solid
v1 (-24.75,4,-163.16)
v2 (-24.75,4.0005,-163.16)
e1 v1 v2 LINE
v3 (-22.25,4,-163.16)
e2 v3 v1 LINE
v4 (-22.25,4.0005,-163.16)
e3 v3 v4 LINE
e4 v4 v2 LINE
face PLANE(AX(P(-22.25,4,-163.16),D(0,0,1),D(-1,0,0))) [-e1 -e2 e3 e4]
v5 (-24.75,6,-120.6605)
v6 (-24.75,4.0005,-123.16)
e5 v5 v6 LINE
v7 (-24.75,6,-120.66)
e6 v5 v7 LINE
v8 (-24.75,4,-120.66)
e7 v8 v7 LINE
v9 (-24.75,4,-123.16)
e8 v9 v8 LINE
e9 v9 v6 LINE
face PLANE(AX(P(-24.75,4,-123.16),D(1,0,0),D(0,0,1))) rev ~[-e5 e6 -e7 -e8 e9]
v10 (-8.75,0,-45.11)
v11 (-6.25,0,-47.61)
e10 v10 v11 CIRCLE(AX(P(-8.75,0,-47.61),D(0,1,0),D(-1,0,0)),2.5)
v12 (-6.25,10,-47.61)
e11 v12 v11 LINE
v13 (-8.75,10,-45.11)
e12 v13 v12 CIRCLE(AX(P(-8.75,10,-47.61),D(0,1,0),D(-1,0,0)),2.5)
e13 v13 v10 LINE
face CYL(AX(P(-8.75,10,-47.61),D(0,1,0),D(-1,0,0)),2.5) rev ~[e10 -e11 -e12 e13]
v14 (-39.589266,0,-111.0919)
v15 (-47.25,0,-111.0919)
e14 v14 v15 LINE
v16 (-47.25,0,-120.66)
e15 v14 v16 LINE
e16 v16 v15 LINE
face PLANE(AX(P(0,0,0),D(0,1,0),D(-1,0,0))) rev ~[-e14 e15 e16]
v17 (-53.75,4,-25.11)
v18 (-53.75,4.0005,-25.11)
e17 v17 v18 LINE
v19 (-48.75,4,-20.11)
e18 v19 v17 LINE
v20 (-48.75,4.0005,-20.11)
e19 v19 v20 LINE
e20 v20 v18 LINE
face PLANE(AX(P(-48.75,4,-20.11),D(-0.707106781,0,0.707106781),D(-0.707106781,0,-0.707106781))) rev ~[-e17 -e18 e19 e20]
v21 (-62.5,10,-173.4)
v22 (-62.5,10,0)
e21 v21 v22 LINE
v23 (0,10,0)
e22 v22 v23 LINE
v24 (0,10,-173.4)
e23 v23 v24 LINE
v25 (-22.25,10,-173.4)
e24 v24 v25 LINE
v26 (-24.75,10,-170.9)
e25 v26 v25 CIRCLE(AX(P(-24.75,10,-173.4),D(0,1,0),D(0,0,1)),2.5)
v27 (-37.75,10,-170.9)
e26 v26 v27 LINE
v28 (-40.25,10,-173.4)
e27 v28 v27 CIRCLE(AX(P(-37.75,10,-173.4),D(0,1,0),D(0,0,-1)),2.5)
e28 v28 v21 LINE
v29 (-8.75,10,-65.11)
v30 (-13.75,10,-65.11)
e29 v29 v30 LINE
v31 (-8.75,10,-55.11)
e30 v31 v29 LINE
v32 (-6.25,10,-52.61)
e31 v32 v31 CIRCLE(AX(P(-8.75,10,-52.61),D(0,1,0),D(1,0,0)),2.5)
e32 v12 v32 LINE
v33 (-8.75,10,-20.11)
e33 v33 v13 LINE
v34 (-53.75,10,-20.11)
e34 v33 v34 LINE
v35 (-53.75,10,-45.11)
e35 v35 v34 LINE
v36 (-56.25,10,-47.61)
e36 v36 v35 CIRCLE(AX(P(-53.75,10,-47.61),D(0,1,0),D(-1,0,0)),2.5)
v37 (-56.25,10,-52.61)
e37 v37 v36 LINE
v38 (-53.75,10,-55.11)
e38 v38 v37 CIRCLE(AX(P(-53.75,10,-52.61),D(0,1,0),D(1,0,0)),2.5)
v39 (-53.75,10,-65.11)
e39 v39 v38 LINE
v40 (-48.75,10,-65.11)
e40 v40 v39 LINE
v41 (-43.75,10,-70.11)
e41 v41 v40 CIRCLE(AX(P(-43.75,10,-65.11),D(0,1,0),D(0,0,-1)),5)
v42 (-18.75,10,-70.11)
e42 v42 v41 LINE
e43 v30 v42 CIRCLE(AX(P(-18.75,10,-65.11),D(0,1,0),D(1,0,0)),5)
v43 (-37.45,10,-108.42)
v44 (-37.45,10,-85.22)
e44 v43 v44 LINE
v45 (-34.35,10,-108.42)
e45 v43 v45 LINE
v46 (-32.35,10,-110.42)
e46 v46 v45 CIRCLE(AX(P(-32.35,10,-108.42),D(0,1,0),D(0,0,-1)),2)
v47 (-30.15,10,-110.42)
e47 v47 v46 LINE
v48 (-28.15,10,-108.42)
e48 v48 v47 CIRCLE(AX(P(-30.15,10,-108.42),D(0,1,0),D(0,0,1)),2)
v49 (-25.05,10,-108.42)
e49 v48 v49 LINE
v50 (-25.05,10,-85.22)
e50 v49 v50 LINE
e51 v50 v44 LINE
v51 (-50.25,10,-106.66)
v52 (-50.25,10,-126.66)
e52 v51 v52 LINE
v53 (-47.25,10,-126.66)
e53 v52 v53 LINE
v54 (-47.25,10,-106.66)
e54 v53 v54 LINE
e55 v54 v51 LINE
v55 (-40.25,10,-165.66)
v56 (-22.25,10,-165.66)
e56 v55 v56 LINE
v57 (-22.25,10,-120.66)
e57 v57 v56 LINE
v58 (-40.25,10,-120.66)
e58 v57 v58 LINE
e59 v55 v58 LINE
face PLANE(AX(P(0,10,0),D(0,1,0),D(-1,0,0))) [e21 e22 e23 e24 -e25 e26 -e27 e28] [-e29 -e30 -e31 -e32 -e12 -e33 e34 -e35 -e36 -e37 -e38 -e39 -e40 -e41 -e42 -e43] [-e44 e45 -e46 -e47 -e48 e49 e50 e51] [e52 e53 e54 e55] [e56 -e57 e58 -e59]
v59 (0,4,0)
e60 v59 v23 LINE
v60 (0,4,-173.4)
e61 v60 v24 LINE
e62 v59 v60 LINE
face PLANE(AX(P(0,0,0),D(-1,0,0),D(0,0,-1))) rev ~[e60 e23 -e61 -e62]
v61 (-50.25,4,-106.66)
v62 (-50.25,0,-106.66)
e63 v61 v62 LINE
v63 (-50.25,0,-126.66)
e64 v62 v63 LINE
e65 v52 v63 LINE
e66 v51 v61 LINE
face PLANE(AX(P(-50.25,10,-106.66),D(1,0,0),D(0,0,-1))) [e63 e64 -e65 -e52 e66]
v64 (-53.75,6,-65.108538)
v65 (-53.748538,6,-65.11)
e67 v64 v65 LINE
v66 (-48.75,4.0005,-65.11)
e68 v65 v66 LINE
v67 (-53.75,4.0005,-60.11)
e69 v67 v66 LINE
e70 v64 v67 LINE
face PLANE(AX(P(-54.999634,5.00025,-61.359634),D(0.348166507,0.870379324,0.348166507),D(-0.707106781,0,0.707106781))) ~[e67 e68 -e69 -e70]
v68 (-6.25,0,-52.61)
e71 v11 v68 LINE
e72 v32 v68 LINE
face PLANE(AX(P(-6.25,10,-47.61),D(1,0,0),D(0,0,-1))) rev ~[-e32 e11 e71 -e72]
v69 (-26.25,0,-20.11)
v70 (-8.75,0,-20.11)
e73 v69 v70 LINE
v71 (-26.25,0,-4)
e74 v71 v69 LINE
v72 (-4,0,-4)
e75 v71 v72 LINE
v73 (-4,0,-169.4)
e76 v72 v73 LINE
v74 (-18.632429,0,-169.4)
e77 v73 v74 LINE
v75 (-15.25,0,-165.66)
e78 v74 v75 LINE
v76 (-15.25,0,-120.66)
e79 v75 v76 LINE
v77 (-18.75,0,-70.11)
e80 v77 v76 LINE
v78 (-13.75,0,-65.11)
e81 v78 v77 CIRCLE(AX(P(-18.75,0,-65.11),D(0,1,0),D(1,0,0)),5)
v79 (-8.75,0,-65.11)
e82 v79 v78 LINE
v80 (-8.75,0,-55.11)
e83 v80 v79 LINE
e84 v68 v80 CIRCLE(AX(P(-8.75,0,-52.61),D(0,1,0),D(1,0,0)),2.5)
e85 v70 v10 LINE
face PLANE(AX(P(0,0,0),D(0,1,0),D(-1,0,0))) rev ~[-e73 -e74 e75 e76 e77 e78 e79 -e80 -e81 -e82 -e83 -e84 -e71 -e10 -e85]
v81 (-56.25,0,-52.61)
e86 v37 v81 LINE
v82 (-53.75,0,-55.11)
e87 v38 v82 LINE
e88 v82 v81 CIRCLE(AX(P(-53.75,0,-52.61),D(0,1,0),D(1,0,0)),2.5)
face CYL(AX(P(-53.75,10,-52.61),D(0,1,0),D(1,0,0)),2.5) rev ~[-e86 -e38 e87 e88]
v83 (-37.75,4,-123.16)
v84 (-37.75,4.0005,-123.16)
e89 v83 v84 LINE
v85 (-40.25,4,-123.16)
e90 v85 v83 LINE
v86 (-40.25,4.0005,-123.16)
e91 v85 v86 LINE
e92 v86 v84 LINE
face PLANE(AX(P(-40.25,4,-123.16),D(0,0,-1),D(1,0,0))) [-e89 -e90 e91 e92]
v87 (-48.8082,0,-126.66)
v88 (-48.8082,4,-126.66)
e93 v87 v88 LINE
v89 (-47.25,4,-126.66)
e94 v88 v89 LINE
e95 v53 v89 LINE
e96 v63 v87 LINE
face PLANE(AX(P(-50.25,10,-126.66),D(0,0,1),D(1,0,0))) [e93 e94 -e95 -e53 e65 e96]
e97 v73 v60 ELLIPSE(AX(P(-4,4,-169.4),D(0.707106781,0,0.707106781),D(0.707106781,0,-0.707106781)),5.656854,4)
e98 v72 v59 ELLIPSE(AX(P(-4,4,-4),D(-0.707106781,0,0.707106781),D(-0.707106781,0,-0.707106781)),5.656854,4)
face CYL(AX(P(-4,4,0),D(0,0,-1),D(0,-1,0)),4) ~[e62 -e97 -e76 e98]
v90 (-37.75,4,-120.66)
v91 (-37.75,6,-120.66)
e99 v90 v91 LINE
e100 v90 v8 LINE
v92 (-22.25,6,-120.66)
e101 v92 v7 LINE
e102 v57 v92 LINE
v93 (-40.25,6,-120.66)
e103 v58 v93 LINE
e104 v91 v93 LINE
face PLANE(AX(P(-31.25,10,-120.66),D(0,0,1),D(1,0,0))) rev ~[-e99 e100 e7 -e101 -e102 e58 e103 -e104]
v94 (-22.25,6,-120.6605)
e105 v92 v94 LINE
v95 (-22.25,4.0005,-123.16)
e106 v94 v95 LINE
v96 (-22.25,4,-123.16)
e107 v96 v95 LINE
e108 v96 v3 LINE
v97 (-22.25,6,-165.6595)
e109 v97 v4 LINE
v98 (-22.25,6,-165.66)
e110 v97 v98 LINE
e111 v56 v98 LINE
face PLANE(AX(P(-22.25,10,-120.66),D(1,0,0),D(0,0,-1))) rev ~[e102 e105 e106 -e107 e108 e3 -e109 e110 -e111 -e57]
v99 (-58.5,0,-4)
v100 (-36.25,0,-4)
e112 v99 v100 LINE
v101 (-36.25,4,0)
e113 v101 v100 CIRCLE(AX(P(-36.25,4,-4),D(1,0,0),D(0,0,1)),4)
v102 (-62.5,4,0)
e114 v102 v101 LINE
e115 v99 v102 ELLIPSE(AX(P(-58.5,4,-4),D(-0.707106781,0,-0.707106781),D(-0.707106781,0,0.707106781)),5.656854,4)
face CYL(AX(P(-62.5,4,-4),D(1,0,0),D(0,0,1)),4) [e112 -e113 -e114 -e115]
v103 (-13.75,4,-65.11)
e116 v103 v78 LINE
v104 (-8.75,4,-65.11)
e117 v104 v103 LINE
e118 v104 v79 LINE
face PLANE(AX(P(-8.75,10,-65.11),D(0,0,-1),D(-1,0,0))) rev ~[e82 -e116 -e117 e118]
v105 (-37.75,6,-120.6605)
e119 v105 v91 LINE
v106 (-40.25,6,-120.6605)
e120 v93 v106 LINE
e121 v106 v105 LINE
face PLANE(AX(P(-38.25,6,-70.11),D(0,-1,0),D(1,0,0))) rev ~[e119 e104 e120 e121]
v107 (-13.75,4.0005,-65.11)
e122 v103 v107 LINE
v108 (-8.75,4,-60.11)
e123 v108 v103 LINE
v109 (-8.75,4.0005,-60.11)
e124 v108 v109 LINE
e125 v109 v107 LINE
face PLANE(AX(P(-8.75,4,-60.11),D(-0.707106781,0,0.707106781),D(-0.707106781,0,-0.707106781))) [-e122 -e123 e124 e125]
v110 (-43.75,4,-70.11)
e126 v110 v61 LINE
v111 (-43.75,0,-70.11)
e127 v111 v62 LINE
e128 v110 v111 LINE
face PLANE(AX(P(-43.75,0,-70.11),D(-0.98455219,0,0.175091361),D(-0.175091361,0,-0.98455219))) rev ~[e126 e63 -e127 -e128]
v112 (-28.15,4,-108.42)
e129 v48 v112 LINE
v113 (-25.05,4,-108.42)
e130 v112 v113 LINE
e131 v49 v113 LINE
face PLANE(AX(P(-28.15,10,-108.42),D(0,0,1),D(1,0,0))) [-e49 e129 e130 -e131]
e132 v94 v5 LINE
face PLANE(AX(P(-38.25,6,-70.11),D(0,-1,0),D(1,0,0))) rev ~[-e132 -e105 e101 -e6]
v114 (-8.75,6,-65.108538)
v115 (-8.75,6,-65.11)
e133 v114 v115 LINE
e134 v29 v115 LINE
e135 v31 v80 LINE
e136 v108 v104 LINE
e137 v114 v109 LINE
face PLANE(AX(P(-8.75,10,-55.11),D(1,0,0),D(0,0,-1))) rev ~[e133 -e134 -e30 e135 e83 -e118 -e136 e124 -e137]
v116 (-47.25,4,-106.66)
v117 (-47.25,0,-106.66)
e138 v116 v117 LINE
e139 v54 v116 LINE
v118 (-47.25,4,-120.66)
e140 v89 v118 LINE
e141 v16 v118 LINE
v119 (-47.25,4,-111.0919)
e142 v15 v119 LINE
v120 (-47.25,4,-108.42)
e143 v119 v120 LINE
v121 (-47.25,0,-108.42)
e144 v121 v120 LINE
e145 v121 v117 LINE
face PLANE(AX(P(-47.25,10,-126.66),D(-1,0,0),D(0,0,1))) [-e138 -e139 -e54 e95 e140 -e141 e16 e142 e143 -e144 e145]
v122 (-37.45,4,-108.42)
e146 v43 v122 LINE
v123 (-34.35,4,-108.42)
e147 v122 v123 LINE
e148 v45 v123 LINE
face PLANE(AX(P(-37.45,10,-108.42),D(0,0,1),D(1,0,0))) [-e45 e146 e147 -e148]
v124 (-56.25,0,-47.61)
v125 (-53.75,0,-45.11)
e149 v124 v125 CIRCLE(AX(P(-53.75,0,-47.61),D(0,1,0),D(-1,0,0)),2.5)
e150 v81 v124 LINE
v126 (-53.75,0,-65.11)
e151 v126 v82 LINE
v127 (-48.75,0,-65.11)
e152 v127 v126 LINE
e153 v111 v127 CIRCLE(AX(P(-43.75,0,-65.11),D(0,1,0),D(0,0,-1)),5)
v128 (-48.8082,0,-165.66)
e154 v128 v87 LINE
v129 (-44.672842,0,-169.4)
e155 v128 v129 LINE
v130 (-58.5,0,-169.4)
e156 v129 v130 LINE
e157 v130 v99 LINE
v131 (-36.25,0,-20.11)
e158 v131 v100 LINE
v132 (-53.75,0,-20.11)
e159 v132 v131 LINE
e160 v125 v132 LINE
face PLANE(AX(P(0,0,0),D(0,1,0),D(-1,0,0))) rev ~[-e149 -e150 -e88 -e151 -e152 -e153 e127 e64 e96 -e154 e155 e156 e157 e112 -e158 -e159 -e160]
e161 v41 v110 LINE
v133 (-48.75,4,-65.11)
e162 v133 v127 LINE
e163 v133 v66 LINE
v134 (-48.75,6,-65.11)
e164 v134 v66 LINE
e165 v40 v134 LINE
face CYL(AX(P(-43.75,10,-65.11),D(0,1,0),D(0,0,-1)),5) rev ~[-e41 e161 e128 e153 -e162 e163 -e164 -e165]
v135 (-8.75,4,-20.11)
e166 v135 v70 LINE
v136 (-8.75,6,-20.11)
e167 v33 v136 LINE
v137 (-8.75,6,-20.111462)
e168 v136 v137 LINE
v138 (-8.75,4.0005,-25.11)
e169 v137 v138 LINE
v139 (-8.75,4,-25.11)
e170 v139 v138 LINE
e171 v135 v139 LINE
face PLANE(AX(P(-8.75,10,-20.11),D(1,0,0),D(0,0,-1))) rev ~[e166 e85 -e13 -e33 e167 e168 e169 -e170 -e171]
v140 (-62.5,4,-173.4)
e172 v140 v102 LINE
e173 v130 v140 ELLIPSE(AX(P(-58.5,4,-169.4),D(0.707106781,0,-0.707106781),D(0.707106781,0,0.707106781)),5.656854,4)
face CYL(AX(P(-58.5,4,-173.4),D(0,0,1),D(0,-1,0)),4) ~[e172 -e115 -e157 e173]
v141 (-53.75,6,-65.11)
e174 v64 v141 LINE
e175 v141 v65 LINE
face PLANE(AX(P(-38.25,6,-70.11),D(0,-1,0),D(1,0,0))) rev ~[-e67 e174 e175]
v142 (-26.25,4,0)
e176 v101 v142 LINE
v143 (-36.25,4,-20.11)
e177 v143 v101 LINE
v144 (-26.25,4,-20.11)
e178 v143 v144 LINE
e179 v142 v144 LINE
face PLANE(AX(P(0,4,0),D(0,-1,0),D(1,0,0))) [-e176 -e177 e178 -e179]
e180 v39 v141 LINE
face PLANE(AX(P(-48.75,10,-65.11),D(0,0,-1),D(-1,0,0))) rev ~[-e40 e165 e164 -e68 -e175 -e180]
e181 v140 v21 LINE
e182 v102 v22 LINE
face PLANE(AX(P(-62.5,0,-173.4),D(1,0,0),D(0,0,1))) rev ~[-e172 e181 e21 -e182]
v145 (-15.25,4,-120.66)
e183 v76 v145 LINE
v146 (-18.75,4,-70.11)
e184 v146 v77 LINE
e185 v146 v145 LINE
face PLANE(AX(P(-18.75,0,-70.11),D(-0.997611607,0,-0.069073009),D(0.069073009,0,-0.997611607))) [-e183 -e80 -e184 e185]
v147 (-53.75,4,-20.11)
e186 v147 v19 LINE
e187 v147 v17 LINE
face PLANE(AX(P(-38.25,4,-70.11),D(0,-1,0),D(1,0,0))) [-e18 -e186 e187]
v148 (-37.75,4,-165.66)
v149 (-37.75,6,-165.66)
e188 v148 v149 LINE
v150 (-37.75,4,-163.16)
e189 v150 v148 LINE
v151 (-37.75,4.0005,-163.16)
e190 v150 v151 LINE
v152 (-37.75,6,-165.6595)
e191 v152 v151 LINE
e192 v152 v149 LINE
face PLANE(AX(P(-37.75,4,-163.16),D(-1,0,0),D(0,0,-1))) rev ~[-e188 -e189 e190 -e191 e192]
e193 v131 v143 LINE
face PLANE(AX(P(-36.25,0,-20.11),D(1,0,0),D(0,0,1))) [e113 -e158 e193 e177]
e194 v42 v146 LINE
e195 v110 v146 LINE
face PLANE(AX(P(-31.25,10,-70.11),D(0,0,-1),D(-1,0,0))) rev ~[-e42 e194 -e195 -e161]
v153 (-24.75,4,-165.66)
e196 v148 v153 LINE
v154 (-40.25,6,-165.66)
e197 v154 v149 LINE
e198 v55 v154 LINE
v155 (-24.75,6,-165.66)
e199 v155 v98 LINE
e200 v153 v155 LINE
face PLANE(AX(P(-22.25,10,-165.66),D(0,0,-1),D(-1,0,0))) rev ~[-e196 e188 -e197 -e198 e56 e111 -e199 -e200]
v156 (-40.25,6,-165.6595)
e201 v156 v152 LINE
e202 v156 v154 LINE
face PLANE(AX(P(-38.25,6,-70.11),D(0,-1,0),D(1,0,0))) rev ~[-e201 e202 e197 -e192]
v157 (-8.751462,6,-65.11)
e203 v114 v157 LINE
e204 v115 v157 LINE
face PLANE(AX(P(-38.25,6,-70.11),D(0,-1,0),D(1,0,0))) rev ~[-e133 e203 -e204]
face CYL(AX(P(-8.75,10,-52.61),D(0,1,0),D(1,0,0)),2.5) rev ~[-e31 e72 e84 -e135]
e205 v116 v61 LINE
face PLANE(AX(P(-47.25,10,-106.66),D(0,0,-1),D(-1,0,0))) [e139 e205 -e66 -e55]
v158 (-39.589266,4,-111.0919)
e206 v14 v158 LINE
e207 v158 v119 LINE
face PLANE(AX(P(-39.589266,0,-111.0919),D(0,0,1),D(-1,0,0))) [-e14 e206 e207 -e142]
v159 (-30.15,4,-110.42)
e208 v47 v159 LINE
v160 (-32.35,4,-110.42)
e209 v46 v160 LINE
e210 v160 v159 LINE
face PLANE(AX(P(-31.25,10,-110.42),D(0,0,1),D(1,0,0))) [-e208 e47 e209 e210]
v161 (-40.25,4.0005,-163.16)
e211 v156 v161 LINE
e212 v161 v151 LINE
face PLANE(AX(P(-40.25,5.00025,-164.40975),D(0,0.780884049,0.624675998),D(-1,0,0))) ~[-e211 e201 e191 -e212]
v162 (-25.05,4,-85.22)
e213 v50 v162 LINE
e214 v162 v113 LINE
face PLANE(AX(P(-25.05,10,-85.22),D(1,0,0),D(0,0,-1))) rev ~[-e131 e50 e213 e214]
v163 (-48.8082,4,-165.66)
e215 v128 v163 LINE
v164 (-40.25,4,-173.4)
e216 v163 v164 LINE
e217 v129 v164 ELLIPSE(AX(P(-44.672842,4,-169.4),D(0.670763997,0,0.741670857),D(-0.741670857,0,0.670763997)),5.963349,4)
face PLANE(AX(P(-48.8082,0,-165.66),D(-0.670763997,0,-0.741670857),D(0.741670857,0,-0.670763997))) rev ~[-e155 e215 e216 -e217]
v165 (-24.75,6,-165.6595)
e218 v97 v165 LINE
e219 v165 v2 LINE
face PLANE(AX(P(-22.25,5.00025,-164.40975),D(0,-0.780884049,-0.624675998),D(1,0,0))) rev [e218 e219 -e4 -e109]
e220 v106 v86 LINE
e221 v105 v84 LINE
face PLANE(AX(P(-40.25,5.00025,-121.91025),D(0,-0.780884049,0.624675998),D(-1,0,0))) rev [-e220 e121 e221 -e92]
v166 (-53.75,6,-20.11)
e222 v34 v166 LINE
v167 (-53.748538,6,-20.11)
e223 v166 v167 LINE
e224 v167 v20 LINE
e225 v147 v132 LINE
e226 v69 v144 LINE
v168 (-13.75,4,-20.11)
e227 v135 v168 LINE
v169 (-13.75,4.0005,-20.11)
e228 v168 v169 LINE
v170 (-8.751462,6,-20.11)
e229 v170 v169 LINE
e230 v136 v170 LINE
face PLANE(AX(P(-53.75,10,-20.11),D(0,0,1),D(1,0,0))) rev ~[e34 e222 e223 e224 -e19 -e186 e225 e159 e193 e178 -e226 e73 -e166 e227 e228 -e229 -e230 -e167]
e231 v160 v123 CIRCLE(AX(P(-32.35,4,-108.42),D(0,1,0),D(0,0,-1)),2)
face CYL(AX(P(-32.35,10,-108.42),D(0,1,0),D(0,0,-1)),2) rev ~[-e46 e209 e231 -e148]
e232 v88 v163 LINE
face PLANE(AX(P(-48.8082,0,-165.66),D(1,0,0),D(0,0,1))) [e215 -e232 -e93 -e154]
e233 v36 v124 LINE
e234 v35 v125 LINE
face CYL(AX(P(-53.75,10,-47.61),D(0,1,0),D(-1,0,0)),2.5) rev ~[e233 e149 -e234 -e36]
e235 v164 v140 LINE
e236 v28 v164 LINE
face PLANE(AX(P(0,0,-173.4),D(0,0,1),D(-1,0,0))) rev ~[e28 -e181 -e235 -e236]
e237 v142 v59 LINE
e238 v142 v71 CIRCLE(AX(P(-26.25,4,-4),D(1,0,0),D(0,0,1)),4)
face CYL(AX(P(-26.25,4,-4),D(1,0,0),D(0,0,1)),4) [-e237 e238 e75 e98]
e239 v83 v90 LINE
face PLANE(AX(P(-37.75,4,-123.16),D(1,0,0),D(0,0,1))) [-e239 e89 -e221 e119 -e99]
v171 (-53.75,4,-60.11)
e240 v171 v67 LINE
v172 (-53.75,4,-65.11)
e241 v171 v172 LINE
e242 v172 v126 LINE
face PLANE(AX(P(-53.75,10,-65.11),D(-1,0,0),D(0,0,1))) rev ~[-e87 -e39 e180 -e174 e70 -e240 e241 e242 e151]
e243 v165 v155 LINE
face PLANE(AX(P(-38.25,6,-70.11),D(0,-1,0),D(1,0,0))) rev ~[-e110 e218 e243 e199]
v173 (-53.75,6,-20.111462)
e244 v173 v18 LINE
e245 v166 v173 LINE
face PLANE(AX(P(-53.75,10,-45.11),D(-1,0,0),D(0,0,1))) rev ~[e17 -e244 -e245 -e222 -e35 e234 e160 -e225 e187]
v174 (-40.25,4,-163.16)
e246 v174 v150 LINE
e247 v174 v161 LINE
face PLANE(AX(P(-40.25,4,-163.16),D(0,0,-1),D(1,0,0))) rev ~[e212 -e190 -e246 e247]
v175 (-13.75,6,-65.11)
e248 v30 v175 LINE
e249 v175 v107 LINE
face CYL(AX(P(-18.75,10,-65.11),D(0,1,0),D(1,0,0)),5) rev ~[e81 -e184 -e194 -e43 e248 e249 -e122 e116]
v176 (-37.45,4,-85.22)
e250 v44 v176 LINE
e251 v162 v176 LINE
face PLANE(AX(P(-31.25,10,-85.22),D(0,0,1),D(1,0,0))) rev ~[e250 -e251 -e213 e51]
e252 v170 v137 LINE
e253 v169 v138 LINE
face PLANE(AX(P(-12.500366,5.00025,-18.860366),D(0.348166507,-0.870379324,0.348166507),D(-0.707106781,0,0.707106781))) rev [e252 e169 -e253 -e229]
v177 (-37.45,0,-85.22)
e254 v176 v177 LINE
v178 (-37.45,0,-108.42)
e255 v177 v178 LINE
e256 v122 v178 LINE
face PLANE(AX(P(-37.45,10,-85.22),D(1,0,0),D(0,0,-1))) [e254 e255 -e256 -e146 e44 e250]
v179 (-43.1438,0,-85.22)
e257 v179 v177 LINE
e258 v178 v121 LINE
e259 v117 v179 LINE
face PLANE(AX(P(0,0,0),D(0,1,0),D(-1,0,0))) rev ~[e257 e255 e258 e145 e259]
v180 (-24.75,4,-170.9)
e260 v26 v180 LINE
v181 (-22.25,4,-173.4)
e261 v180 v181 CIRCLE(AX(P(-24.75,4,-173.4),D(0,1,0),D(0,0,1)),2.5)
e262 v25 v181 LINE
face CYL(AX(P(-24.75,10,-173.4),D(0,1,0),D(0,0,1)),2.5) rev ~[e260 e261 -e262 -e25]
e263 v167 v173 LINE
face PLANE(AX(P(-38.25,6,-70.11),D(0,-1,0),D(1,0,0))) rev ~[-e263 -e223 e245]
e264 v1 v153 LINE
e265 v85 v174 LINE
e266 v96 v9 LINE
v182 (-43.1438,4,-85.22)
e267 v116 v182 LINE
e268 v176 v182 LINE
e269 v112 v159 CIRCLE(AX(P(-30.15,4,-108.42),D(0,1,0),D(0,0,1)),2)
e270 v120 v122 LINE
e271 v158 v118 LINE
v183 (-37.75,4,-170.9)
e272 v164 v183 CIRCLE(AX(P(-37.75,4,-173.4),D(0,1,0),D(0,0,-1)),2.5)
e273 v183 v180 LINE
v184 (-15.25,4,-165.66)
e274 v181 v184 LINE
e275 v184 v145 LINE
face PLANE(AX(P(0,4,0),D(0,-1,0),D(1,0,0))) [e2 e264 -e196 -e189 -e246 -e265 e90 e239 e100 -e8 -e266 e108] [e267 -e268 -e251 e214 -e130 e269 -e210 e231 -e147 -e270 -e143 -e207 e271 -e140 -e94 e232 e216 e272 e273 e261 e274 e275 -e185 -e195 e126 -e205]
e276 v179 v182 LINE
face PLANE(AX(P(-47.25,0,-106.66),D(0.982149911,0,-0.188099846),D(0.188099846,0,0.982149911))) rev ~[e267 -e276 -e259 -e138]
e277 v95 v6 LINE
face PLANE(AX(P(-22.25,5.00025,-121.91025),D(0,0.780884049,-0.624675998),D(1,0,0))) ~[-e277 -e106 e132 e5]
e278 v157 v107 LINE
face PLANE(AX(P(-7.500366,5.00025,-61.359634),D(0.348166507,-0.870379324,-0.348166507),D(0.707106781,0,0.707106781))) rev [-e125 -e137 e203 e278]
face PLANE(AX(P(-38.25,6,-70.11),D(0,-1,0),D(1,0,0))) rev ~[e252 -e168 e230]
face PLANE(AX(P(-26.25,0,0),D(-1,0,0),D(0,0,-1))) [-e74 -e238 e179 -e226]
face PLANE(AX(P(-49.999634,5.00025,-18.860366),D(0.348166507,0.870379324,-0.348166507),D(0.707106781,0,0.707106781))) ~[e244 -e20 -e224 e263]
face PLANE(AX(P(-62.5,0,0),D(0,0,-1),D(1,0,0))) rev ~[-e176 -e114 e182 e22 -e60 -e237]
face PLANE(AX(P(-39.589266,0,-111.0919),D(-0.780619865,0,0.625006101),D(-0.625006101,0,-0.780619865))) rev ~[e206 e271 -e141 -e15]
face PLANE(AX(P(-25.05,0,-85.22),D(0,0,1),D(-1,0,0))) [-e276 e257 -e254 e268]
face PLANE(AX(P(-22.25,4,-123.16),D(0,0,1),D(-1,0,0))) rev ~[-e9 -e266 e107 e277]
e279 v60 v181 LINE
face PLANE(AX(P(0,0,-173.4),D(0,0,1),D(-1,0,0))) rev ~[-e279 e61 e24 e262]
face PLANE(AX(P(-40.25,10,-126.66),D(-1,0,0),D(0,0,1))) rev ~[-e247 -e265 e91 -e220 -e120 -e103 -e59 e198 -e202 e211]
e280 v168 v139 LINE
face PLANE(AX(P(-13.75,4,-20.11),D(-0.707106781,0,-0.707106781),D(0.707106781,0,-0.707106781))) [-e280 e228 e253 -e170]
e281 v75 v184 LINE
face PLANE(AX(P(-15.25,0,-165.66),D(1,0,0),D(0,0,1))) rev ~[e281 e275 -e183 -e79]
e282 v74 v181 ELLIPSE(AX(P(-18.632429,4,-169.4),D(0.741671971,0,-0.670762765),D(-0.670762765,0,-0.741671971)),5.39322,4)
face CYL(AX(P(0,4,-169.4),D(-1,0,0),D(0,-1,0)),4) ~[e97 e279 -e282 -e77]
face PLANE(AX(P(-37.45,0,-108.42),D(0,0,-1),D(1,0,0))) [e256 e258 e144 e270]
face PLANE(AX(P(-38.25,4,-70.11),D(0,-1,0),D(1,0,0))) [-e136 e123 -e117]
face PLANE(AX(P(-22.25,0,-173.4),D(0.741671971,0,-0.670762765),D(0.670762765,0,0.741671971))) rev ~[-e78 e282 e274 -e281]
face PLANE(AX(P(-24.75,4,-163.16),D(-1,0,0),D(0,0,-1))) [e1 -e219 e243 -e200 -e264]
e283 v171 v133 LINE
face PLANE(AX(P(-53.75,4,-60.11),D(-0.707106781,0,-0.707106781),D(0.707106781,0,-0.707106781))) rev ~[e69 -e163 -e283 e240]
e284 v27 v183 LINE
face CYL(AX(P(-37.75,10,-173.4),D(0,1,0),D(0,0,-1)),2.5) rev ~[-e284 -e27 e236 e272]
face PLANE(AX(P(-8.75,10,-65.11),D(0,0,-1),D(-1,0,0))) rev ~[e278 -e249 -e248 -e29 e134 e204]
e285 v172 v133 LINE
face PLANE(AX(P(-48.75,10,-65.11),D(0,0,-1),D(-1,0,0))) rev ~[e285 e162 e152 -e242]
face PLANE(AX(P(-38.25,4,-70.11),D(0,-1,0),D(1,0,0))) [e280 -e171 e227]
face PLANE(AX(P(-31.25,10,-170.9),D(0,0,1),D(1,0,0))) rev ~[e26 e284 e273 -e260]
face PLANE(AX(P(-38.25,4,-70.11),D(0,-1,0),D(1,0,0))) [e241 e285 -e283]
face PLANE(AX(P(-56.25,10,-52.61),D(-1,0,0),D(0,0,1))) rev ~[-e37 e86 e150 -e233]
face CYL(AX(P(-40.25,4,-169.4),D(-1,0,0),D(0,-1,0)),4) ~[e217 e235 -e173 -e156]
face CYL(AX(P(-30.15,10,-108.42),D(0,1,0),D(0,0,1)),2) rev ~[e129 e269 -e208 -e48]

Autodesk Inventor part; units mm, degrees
ref_plane "YZ Plane" through (0, 0, 0) normal (1, 0, 0) x (0, 1, 0)
ref_plane "XZ Plane" through (0, 0, 0) normal (0, 1, 0) x (-1, 0, 0)
sketch "Sketch1" plane through (0, 0, 0) normal (0, 1, 0) x (-1, 0, 0)
  line L0 (0, 0) -> (0, -173.4)
  line L1 (0, -173.4) -> (62.5, -173.4)
  line L2 (62.5, -173.4) -> (62.5, 0)
  line L3 (62.5, 0) -> (0, 0)
  dimension "d0" = 173.4
  dimension "d1" = 62.5
extrude "Extrusion1" add sketch "Sketch1" along normal blind 10
sketch "Sketch2" plane through (0, 10, 0) normal (0, 1, 0) x (1, 0, 0)
  line L0 (0, 0) -> (0, 102.12)
  line L1 (0, 0) -> (0, 173.4) projected
  line L2 (0, 102.12) -> (-62.5, 102.12)
  line L3 (-62.5, 173.4) -> (-62.5, 0) projected
  line L4 (-31.25, 102.12) -> (-31.25, 0)
  line L5 (-62.5, 0) -> (0, 0) projected
  line L6 (-31.25, 102.12) -> (-37.45, 102.12)
  line L7 (-37.45, 102.12) -> (-31.25, 102.12)
  line L8 (-31.25, 102.12) -> (-25.05, 102.12)
  line L9 (-25.05, 102.12) -> (-31.25, 102.12)
  line L10 (-31.25, 102.12) -> (-31.25, 85.22)
  line L11 (-31.25, 85.22) -> (-25.05, 85.22)
  line L12 (-25.05, 85.22) -> (-25.05, 102.12)
  line L13 (-31.25, 85.22) -> (-37.45, 85.22)
  line L14 (-37.45, 85.22) -> (-37.45, 102.12)
  line L15 (-31.25, 102.12) -> (-31.25, 108.42)
  line L16 (-31.25, 108.42) -> (-25.05, 108.42)
  line L17 (-25.05, 108.42) -> (-25.05, 102.12)
  line L18 (-37.45, 102.12) -> (-37.45, 108.42)
  line L19 (-37.45, 108.42) -> (-31.25, 108.42)
  line L20 (-31.25, 108.42) -> (-31.25, 173.4)
  line L21 (0, 173.4) -> (-62.5, 173.4) projected
  line L22 (-31.25, 140.91) -> (-31.25, 120.66)
  line L23 (-31.25, 120.66) -> (-22.25, 120.66)
  line L24 (-22.25, 120.66) -> (-22.25, 165.66)
  line L25 (-22.25, 165.66) -> (-40.25, 165.66)
  line L26 (-40.25, 165.66) -> (-40.25, 120.66)
  line L27 (-40.25, 120.66) -> (-31.25, 120.66)
  line L28 (-40.25, 120.66) -> (-40.25, 126.66)
  line L29 (-40.25, 126.66) -> (-44.25, 126.66)
  line L30 (-44.25, 126.66) -> (-47.25, 126.66)
  line L31 (-47.25, 126.66) -> (-47.25, 106.66)
  line L32 (-47.25, 106.66) -> (-50.25, 106.66)
  line L33 (-50.25, 106.66) -> (-50.25, 126.66)
  line L34 (-50.25, 126.66) -> (-47.25, 126.66)
  line L35 (-31.25, 0) -> (-31.25, 85.22)
  line L36 (-31.25, 42.61) -> (-31.25, 20.11)
  line L37 (-31.25, 20.11) -> (-31.25, 42.61)
  line L38 (-31.25, 42.61) -> (-31.25, 65.11)
  line L39 (-31.25, 65.11) -> (-53.75, 65.11)
  line L40 (-53.75, 65.11) -> (-53.75, 20.11)
  line L41 (-53.75, 20.11) -> (-8.75, 20.11)
  line L42 (-8.75, 20.11) -> (-8.75, 65.11)
  line L43 (-8.75, 65.11) -> (-31.25, 65.11)
  line L44 (-22.25, 120.66) -> (-40.25, 120.66)
  line L45 (-40.25, 120.66) -> (-40.25, 165.66)
  line L46 (-40.25, 165.66) -> (-22.25, 165.66)
  line L47 (-22.25, 165.66) -> (-22.25, 120.66)
  line L48 (-53.75, 65.11) -> (-48.75, 65.11)
  line L49 (-48.75, 65.11) -> (-8.75, 65.11)
  line L50 (-8.75, 65.11) -> (-13.75, 65.11)
  line L51 (-13.75, 65.11) -> (-13.75, 70.11)
  line L52 (-13.75, 70.11) -> (-48.75, 70.11)
  line L53 (-48.75, 70.11) -> (-48.75, 65.11)
  line L54 (-48.75, 65.11) -> (-13.75, 65.11) construction
  line L55 (-18.75, 70.11) -> (-43.75, 70.11)
  arc A0 (-43.75, 70.11) -> (-48.75, 65.11) centre (-43.75, 65.11) ccw
  arc A1 (-13.75, 65.11) -> (-18.75, 70.11) centre (-18.75, 65.11) ccw
  line L56 (-8.75, 65.11) -> (-8.75, 55.11)
  line L57 (-8.75, 55.11) -> (-8.75, 45.11)
  line L58 (-8.75, 45.11) -> (-53.75, 45.11)
  line L59 (-53.75, 45.11) -> (-53.75, 55.11)
  line L60 (-53.75, 45.11) -> (-53.75, 55.11) construction
  line L61 (-51.25, 47.61) -> (-51.25, 52.61)
  line L62 (-56.25, 52.61) -> (-56.25, 47.61)
  arc A2 (-56.25, 47.61) -> (-51.25, 47.61) centre (-53.75, 47.61) ccw
  arc A3 (-51.25, 52.61) -> (-56.25, 52.61) centre (-53.75, 52.61) ccw
  line L63 (-8.75, 45.11) -> (-8.75, 55.11) construction
  line L64 (-6.25, 47.61) -> (-6.25, 52.61)
  line L65 (-11.25, 52.61) -> (-11.25, 47.61)
  arc A4 (-11.25, 47.61) -> (-6.25, 47.61) centre (-8.75, 47.61) ccw
  arc A5 (-6.25, 52.61) -> (-11.25, 52.61) centre (-8.75, 52.61) ccw
  line L66 (-40.25, 165.66) -> (-40.25, 173.4)
  line L67 (-22.25, 165.66) -> (-22.25, 173.4)
  line L68 (-40.25, 173.4) -> (-22.25, 173.4) construction
  line L69 (-37.75, 170.9) -> (-24.75, 170.9)
  line L70 (-24.75, 175.9) -> (-37.75, 175.9)
  arc A6 (-37.75, 175.9) -> (-37.75, 170.9) centre (-37.75, 173.4) ccw
  arc A7 (-24.75, 170.9) -> (-24.75, 175.9) centre (-24.75, 173.4) ccw
  line L71 (-31.25, 102.12) -> (-34.35, 102.12)
  line L72 (-28.15, 102.12) -> (-31.25, 102.12)
  line L73 (-34.35, 102.12) -> (-28.15, 102.12) construction
  line L74 (-32.35, 100.12) -> (-30.15, 100.12)
  line L75 (-30.15, 104.12) -> (-32.35, 104.12)
  arc A8 (-32.35, 104.12) -> (-32.35, 100.12) centre (-32.35, 102.12) ccw
  arc A9 (-30.15, 100.12) -> (-30.15, 104.12) centre (-30.15, 102.12) ccw
  arc A10 (-32.35, 110.42) -> (-32.35, 106.42) centre (-32.35, 108.42) ccw
  arc A11 (-30.15, 106.42) -> (-30.15, 110.42) centre (-30.15, 108.42) ccw
  line L76 (-32.35, 110.42) -> (-30.15, 110.42)
  point P0 (-31.25, 165.66)
  point P1 (-31.25, 165.66)
  point P2 (-53.75, 50.11)
  point P3 (-8.75, 50.11)
  point P4 (-34.35, 108.42)
  point P5 (-28.15, 108.42)
  dimension "d4" = 102.12
  dimension "d5" = 6.2
  dimension "d6" = 6.2
  dimension "d7" = 16.9
  dimension "d8" = 6.3
  dimension "d11" = 20.25
  dimension "d12" = 9
  dimension "d13" = 45
  dimension "d14" = 18
  dimension "d15" = 6
  dimension "d16" = 4
  dimension "d17" = 3
  dimension "d18" = 20
  dimension "d19" = 3
  dimension "d20" = 22.5
  dimension "d21" = 22.5
  dimension "d22" = 22.5
  dimension "d23" = 45
  dimension "d24" = 5
  dimension "d25" = 5
  dimension "d26" = 5
  dimension "d27" = 10
  dimension "d28" = 10
  dimension "d29" = 5
  dimension "d30" = 5
  dimension "d36" = 5
  dimension "d37" = 4
  dimension "d39" = 4
extrude "Extrusion2" cut sketch "Sketch2" against normal through all contours L12 L11 L4 L74 A9 L2 | L2 A9 L75 L15 L16 L17 | L41 L40 L58 L4 | L4 L58 L42 L41 | A7 L69 L20 L21 | A9 L74 L4 L2 | L2 L15 L75 A9 | L31 L32 L33 L34 | L20 L69 A6 L21 | L24 L23 L20 L25 | L4 L74 A8 L2 | L2 A8 L75 L15 | L13 L14 L2 A8 L74 L4 | L16 L20 L76 A11 | L58 A2 L61 A3 L40 L39 L4 | L4 L43 L42 A5 L65 A4 L58 | A2 L62 A3 L40 | L40 A3 L61 A2 | A4 L65 A5 L42 | L42 A5 L64 A4 | L18 L19 L15 L75 A8 L2 | L20 L27 L26 L25 | L52 A1 L43 L4 | L4 L39 A0 L52 | L19 A10 L76 L20
sketch "Sketch3" plane through (0, 10, 0) normal (0, 1, 0) x (1, 0, 0)
  point P0 (0, 0)
sketch "Sketch4" plane through (0, 0, 0) normal (0, -1, 0) x (1, 0, 0)
  line L0 (-8.75, -20.11) -> (-53.75, -20.11) projected
  line L1 (-53.75, -20.11) -> (-8.75, -20.11)
  line L2 (-8.75, -20.11) -> (-31.25, -20.11)
  line L3 (-62.5, 0) -> (0, 0) projected
  line L4 (-31.25, 0) -> (-31.25, -20.11)
  line L5 (-31.25, -20.11) -> (-26.25, -20.11)
  line L6 (-26.25, -20.11) -> (-36.25, -20.11)
  line L7 (-36.25, -20.11) -> (-36.25, 0)
  line L8 (-36.25, 0) -> (-26.25, 0)
  line L9 (-26.25, 0) -> (-26.25, -20.11)
  line L10 (-40.25, -165.66) -> (-40.25, -120.66) projected
  line L11 (-40.25, -120.66) -> (-47.25, -120.66)
  line L12 (-47.25, -126.66) -> (-47.25, -106.66) projected
  line L13 (-48.8082, -126.9328) -> (-40.25, -126.9328)
  line L14 (-40.25, -126.9328) -> (-48.8082, -126.9328)
  line L15 (-40.25, -165.66) -> (-22.25, -165.66) projected
  line L16 (-40.25, -165.66) -> (-48.8082, -165.66)
  line L17 (-48.8082, -165.66) -> (-48.8082, -126.9328)
  line L18 (-22.25, -120.66) -> (-22.25, -165.66) projected
  line L19 (-22.25, -165.66) -> (-15.25, -165.66)
  line L20 (-15.25, -165.66) -> (-15.25, -120.66)
  line L21 (-15.25, -120.66) -> (-22.25, -120.66)
  line L22 (-40.25, -120.66) -> (-22.25, -120.66) projected
  line L23 (-22.25, -120.66) -> (-40.25, -120.66)
  line L24 (-40.25, -120.66) -> (-40.25, -126.9328)
  line L25 (-40.25, -165.66) -> (-40.25, -126.9328)
  line L26 (-22.25, -120.66) -> (-22.25, -165.66)
  line L27 (-40.25, -165.66) -> (-40.25, -173.4)
  line L28 (0, -173.4) -> (-62.5, -173.4) projected
  line L29 (-48.8082, -165.66) -> (-40.25, -173.4)
  line L30 (-22.25, -165.66) -> (-22.25, -173.4)
  line L31 (-22.25, -173.4) -> (-15.25, -165.66)
  line L32 (-40.25, -173.4) -> (-22.25, -173.4)
  line L33 (-37.45, -108.42) -> (-37.45, -85.22) projected
  line L34 (-25.05, -85.22) -> (-25.05, -108.42) projected
  line L35 (-37.45, -108.42) -> (-25.05, -108.42)
  line L36 (-25.05, -108.42) -> (-22.25, -120.66)
  line L37 (-37.45, -108.42) -> (-40.25, -120.66)
  line L38 (-43.75, -70.11) -> (-18.75, -70.11) projected
  line L39 (-50.25, -126.66) -> (-50.25, -106.66) projected
  line L40 (-43.75, -70.11) -> (-50.25, -106.66)
  line L41 (-47.25, -106.66) -> (-50.25, -106.66) projected
  line L42 (-47.25, -106.66) -> (-40.25, -70.11)
  line L43 (-18.75, -70.11) -> (-15.25, -120.66)
  line L44 (-25.05, -108.42) -> (-37.45, -108.42) projected
  line L45 (-25.05, -85.22) -> (-37.45, -85.22) projected
  line L46 (-25.05, -108.42) -> (-25.05, -85.22)
  line L47 (-25.05, -85.22) -> (-43.1438, -85.22)
  line L48 (-37.45, -108.42) -> (-47.25, -120.66)
  line L49 (-48.8082, -126.9328) -> (-48.8082, -120.66)
  line L50 (-48.8082, -120.66) -> (-47.25, -120.66)
  line L51 (-37.45, -108.42) -> (-47.25, -108.42)
  line L52 (-37.45, -108.42) -> (-38.0612, -111.0919)
  line L53 (-38.0612, -111.0919) -> (-47.25, -111.0919)
  point P0 (-39.5893, -111.0919)
  dimension "d31" = 5
  dimension "d32" = 10
  dimension "d33" = 7
extrude "Extrusion3" cut sketch "Sketch4" against normal blind 4 contours L0 L4 L3 L9 | L0 L7 L3 L4 | L16 L17 L13 L10 | L27 L29 L16 | L15 L30 L28 L27 | L13 L49 L50 L11 L10 | L18 L21 L20 L19 | L19 L31 L30 | L37 L35 L36 L22 | L11 L48 L53 L37 | L36 L34 L45 L47 L42 L38 L43 L21 | L53 L48 L37 | L12 L51 L48 L53 | L42 L41 L40 L38
sketch "Sketch5" plane through (-40.25, 10, -165.66) normal (0, 0, 1) x (1, 0, 0)
  point P0 (40.25, -10)
fillet "Fillet1" radius 4 6 edges at (0, 0, -86.7) (-62.5, 0, -86.7) (-49.375, 0, 0) (-13.125, 0, 0) (-51.375, 0, -173.4) (-11.125, 0, -173.4)
ref_plane "Work Plane1" through (-38.25, 4, -70.11) normal (0, -1, 0) x (1, 0, 0)
sketch "Sketch6" plane through (-38.25, 4, -70.11) normal (0, -1, 0) x (1, 0, 0)
  line L0 (-15.5, 15) -> (-15.5, 5) projected
  arc A0 (-10.5, 5) -> (-5.5, 0) centre (-5.5, 5) ccw projected
  line L1 (-15.5, 5) -> (-10.5, 5)
  line L2 (-15.5, 5) -> (-10.5, 5) projected
  line L3 (-10.5, 5) -> (-15.5, 5)
  line L4 (-15.5, 5) -> (-15.5, 10)
  line L5 (-15.5, 10) -> (-10.5, 5)
  line L6 (-15.5, 50) -> (-15.5, 25) projected
  line L7 (-15.5, 50) -> (-15.5, 45)
  line L8 (-15.5, 45) -> (-15.5, 50)
  line L9 (-15.5, 50) -> (2, 50) projected
  line L10 (-15.5, 50) -> (-10.5, 50)
  line L11 (-10.5, 50) -> (-15.5, 45)
  line L12 (-5.5, 0) -> (19.5, 0) projected
  line L13 (7, 0) -> (7, 50)
  line L14 (12, 50) -> (2, 50) projected
  line L15 (29.5, 15) -> (29.5, 5)
  line L16 (29.5, 5) -> (24.5, 5)
  line L17 (29.5, 10) -> (24.5, 5)
  line L18 (29.5, 50) -> (29.5, 45)
  line L19 (29.5, 50) -> (12, 50)
  line L20 (24.5, 50) -> (29.5, 45)
  line L21 (-2, -50.55) -> (-2, -95.55) projected
  line L22 (-2, -50.55) -> (-2, -53.05)
  line L23 (-2, -53.05) -> (-2, -50.55)
  line L24 (-2, -50.55) -> (-2, -53.05)
  line L25 (-2, -53.05) -> (0.5, -53.05)
  line L26 (0.5, -53.05) -> (0.5, -50.55)
  line L27 (16, -50.55) -> (-2, -50.55) projected
  line L28 (-2, -50.55) -> (0.5, -50.55)
  line L29 (-2, -50.55) -> (-2, -53.05)
  line L30 (7, -50.55) -> (7, -95.55)
  line L31 (-2, -95.55) -> (16, -95.55) projected
  line L32 (-2, -95.55) -> (-2, -93.05)
  line L33 (-2, -93.05) -> (0.5, -93.05)
  line L34 (0.5, -93.05) -> (0.5, -95.55)
  line L35 (0.5, -95.55) -> (-2, -95.55)
  line L36 (16, -50.55) -> (16, -95.55)
  line L37 (16, -50.55) -> (16, -53.05)
  line L38 (16, -53.05) -> (13.5, -53.05)
  line L39 (13.5, -53.05) -> (13.5, -50.55)
  line L40 (-2, -50.55) -> (16, -50.55)
  line L41 (16, -95.55) -> (-2, -95.55)
  line L42 (16, -93.05) -> (13.5, -93.05)
  line L43 (13.5, -93.05) -> (13.5, -95.55)
  point P0 (38.25, 70.11)
  dimension "d40" = 5
  dimension "d41" = 5
  dimension "d42" = 5
  dimension "d43" = 2.5
  dimension "d44" = 2.5
  dimension "d45" = 2.5
  dimension "d46" = 2.5
extrude "Extrusion4" add sketch "Sketch6" against normal blind 2 contours L5 L1 L0 | L11 L6 L9 | L19 L18 L20 | L15 L16 L17 | L27 L26 L25 L21 | L33 L34 L31 L21 | L27 L36 L38 L39 | L43 L42 L36 L31
chamfer "Chamfer1" distance 3.535 distance2 2 1 edges at (-51.25, 6, -22.61) measured on face at (-52.0833, 6, -21.7767)
chamfer "Chamfer2" distance 3.535 distance2 2 1 edges at (-51.25, 6, -62.61) measured on face at (-52.0833, 6, -63.4433)
chamfer "Chamfer3" distance 3.535 distance2 2 1 edges at (-11.25, 6, -62.61) measured on face at (-10.4167, 6, -63.4433)
chamfer "Chamfer4" distance 3.535 distance2 2 1 edges at (-11.25, 6, -22.61) measured on face at (-10.4167, 6, -21.7767)
chamfer "Chamfer5" distance 2.5 distance2 2 1 edges at (-23.5, 6, -123.16) measured on face at (-23.0833, 6, -122.3267)
chamfer "Chamfer6" distance 2.5 distance2 2 1 edges at (-39, 6, -123.16) measured on face at (-39.4167, 6, -121.4933)
chamfer "Chamfer7" distance 2.5 distance2 2 1 edges at (-39, 6, -163.16) measured on face at (-39.4167, 6, -163.9933)
chamfer "Chamfer8" distance 2.5 distance2 2 1 edges at (-23.5, 6, -163.16) measured on face at (-23.9167, 6, -163.9933)
properties part number "inside"
